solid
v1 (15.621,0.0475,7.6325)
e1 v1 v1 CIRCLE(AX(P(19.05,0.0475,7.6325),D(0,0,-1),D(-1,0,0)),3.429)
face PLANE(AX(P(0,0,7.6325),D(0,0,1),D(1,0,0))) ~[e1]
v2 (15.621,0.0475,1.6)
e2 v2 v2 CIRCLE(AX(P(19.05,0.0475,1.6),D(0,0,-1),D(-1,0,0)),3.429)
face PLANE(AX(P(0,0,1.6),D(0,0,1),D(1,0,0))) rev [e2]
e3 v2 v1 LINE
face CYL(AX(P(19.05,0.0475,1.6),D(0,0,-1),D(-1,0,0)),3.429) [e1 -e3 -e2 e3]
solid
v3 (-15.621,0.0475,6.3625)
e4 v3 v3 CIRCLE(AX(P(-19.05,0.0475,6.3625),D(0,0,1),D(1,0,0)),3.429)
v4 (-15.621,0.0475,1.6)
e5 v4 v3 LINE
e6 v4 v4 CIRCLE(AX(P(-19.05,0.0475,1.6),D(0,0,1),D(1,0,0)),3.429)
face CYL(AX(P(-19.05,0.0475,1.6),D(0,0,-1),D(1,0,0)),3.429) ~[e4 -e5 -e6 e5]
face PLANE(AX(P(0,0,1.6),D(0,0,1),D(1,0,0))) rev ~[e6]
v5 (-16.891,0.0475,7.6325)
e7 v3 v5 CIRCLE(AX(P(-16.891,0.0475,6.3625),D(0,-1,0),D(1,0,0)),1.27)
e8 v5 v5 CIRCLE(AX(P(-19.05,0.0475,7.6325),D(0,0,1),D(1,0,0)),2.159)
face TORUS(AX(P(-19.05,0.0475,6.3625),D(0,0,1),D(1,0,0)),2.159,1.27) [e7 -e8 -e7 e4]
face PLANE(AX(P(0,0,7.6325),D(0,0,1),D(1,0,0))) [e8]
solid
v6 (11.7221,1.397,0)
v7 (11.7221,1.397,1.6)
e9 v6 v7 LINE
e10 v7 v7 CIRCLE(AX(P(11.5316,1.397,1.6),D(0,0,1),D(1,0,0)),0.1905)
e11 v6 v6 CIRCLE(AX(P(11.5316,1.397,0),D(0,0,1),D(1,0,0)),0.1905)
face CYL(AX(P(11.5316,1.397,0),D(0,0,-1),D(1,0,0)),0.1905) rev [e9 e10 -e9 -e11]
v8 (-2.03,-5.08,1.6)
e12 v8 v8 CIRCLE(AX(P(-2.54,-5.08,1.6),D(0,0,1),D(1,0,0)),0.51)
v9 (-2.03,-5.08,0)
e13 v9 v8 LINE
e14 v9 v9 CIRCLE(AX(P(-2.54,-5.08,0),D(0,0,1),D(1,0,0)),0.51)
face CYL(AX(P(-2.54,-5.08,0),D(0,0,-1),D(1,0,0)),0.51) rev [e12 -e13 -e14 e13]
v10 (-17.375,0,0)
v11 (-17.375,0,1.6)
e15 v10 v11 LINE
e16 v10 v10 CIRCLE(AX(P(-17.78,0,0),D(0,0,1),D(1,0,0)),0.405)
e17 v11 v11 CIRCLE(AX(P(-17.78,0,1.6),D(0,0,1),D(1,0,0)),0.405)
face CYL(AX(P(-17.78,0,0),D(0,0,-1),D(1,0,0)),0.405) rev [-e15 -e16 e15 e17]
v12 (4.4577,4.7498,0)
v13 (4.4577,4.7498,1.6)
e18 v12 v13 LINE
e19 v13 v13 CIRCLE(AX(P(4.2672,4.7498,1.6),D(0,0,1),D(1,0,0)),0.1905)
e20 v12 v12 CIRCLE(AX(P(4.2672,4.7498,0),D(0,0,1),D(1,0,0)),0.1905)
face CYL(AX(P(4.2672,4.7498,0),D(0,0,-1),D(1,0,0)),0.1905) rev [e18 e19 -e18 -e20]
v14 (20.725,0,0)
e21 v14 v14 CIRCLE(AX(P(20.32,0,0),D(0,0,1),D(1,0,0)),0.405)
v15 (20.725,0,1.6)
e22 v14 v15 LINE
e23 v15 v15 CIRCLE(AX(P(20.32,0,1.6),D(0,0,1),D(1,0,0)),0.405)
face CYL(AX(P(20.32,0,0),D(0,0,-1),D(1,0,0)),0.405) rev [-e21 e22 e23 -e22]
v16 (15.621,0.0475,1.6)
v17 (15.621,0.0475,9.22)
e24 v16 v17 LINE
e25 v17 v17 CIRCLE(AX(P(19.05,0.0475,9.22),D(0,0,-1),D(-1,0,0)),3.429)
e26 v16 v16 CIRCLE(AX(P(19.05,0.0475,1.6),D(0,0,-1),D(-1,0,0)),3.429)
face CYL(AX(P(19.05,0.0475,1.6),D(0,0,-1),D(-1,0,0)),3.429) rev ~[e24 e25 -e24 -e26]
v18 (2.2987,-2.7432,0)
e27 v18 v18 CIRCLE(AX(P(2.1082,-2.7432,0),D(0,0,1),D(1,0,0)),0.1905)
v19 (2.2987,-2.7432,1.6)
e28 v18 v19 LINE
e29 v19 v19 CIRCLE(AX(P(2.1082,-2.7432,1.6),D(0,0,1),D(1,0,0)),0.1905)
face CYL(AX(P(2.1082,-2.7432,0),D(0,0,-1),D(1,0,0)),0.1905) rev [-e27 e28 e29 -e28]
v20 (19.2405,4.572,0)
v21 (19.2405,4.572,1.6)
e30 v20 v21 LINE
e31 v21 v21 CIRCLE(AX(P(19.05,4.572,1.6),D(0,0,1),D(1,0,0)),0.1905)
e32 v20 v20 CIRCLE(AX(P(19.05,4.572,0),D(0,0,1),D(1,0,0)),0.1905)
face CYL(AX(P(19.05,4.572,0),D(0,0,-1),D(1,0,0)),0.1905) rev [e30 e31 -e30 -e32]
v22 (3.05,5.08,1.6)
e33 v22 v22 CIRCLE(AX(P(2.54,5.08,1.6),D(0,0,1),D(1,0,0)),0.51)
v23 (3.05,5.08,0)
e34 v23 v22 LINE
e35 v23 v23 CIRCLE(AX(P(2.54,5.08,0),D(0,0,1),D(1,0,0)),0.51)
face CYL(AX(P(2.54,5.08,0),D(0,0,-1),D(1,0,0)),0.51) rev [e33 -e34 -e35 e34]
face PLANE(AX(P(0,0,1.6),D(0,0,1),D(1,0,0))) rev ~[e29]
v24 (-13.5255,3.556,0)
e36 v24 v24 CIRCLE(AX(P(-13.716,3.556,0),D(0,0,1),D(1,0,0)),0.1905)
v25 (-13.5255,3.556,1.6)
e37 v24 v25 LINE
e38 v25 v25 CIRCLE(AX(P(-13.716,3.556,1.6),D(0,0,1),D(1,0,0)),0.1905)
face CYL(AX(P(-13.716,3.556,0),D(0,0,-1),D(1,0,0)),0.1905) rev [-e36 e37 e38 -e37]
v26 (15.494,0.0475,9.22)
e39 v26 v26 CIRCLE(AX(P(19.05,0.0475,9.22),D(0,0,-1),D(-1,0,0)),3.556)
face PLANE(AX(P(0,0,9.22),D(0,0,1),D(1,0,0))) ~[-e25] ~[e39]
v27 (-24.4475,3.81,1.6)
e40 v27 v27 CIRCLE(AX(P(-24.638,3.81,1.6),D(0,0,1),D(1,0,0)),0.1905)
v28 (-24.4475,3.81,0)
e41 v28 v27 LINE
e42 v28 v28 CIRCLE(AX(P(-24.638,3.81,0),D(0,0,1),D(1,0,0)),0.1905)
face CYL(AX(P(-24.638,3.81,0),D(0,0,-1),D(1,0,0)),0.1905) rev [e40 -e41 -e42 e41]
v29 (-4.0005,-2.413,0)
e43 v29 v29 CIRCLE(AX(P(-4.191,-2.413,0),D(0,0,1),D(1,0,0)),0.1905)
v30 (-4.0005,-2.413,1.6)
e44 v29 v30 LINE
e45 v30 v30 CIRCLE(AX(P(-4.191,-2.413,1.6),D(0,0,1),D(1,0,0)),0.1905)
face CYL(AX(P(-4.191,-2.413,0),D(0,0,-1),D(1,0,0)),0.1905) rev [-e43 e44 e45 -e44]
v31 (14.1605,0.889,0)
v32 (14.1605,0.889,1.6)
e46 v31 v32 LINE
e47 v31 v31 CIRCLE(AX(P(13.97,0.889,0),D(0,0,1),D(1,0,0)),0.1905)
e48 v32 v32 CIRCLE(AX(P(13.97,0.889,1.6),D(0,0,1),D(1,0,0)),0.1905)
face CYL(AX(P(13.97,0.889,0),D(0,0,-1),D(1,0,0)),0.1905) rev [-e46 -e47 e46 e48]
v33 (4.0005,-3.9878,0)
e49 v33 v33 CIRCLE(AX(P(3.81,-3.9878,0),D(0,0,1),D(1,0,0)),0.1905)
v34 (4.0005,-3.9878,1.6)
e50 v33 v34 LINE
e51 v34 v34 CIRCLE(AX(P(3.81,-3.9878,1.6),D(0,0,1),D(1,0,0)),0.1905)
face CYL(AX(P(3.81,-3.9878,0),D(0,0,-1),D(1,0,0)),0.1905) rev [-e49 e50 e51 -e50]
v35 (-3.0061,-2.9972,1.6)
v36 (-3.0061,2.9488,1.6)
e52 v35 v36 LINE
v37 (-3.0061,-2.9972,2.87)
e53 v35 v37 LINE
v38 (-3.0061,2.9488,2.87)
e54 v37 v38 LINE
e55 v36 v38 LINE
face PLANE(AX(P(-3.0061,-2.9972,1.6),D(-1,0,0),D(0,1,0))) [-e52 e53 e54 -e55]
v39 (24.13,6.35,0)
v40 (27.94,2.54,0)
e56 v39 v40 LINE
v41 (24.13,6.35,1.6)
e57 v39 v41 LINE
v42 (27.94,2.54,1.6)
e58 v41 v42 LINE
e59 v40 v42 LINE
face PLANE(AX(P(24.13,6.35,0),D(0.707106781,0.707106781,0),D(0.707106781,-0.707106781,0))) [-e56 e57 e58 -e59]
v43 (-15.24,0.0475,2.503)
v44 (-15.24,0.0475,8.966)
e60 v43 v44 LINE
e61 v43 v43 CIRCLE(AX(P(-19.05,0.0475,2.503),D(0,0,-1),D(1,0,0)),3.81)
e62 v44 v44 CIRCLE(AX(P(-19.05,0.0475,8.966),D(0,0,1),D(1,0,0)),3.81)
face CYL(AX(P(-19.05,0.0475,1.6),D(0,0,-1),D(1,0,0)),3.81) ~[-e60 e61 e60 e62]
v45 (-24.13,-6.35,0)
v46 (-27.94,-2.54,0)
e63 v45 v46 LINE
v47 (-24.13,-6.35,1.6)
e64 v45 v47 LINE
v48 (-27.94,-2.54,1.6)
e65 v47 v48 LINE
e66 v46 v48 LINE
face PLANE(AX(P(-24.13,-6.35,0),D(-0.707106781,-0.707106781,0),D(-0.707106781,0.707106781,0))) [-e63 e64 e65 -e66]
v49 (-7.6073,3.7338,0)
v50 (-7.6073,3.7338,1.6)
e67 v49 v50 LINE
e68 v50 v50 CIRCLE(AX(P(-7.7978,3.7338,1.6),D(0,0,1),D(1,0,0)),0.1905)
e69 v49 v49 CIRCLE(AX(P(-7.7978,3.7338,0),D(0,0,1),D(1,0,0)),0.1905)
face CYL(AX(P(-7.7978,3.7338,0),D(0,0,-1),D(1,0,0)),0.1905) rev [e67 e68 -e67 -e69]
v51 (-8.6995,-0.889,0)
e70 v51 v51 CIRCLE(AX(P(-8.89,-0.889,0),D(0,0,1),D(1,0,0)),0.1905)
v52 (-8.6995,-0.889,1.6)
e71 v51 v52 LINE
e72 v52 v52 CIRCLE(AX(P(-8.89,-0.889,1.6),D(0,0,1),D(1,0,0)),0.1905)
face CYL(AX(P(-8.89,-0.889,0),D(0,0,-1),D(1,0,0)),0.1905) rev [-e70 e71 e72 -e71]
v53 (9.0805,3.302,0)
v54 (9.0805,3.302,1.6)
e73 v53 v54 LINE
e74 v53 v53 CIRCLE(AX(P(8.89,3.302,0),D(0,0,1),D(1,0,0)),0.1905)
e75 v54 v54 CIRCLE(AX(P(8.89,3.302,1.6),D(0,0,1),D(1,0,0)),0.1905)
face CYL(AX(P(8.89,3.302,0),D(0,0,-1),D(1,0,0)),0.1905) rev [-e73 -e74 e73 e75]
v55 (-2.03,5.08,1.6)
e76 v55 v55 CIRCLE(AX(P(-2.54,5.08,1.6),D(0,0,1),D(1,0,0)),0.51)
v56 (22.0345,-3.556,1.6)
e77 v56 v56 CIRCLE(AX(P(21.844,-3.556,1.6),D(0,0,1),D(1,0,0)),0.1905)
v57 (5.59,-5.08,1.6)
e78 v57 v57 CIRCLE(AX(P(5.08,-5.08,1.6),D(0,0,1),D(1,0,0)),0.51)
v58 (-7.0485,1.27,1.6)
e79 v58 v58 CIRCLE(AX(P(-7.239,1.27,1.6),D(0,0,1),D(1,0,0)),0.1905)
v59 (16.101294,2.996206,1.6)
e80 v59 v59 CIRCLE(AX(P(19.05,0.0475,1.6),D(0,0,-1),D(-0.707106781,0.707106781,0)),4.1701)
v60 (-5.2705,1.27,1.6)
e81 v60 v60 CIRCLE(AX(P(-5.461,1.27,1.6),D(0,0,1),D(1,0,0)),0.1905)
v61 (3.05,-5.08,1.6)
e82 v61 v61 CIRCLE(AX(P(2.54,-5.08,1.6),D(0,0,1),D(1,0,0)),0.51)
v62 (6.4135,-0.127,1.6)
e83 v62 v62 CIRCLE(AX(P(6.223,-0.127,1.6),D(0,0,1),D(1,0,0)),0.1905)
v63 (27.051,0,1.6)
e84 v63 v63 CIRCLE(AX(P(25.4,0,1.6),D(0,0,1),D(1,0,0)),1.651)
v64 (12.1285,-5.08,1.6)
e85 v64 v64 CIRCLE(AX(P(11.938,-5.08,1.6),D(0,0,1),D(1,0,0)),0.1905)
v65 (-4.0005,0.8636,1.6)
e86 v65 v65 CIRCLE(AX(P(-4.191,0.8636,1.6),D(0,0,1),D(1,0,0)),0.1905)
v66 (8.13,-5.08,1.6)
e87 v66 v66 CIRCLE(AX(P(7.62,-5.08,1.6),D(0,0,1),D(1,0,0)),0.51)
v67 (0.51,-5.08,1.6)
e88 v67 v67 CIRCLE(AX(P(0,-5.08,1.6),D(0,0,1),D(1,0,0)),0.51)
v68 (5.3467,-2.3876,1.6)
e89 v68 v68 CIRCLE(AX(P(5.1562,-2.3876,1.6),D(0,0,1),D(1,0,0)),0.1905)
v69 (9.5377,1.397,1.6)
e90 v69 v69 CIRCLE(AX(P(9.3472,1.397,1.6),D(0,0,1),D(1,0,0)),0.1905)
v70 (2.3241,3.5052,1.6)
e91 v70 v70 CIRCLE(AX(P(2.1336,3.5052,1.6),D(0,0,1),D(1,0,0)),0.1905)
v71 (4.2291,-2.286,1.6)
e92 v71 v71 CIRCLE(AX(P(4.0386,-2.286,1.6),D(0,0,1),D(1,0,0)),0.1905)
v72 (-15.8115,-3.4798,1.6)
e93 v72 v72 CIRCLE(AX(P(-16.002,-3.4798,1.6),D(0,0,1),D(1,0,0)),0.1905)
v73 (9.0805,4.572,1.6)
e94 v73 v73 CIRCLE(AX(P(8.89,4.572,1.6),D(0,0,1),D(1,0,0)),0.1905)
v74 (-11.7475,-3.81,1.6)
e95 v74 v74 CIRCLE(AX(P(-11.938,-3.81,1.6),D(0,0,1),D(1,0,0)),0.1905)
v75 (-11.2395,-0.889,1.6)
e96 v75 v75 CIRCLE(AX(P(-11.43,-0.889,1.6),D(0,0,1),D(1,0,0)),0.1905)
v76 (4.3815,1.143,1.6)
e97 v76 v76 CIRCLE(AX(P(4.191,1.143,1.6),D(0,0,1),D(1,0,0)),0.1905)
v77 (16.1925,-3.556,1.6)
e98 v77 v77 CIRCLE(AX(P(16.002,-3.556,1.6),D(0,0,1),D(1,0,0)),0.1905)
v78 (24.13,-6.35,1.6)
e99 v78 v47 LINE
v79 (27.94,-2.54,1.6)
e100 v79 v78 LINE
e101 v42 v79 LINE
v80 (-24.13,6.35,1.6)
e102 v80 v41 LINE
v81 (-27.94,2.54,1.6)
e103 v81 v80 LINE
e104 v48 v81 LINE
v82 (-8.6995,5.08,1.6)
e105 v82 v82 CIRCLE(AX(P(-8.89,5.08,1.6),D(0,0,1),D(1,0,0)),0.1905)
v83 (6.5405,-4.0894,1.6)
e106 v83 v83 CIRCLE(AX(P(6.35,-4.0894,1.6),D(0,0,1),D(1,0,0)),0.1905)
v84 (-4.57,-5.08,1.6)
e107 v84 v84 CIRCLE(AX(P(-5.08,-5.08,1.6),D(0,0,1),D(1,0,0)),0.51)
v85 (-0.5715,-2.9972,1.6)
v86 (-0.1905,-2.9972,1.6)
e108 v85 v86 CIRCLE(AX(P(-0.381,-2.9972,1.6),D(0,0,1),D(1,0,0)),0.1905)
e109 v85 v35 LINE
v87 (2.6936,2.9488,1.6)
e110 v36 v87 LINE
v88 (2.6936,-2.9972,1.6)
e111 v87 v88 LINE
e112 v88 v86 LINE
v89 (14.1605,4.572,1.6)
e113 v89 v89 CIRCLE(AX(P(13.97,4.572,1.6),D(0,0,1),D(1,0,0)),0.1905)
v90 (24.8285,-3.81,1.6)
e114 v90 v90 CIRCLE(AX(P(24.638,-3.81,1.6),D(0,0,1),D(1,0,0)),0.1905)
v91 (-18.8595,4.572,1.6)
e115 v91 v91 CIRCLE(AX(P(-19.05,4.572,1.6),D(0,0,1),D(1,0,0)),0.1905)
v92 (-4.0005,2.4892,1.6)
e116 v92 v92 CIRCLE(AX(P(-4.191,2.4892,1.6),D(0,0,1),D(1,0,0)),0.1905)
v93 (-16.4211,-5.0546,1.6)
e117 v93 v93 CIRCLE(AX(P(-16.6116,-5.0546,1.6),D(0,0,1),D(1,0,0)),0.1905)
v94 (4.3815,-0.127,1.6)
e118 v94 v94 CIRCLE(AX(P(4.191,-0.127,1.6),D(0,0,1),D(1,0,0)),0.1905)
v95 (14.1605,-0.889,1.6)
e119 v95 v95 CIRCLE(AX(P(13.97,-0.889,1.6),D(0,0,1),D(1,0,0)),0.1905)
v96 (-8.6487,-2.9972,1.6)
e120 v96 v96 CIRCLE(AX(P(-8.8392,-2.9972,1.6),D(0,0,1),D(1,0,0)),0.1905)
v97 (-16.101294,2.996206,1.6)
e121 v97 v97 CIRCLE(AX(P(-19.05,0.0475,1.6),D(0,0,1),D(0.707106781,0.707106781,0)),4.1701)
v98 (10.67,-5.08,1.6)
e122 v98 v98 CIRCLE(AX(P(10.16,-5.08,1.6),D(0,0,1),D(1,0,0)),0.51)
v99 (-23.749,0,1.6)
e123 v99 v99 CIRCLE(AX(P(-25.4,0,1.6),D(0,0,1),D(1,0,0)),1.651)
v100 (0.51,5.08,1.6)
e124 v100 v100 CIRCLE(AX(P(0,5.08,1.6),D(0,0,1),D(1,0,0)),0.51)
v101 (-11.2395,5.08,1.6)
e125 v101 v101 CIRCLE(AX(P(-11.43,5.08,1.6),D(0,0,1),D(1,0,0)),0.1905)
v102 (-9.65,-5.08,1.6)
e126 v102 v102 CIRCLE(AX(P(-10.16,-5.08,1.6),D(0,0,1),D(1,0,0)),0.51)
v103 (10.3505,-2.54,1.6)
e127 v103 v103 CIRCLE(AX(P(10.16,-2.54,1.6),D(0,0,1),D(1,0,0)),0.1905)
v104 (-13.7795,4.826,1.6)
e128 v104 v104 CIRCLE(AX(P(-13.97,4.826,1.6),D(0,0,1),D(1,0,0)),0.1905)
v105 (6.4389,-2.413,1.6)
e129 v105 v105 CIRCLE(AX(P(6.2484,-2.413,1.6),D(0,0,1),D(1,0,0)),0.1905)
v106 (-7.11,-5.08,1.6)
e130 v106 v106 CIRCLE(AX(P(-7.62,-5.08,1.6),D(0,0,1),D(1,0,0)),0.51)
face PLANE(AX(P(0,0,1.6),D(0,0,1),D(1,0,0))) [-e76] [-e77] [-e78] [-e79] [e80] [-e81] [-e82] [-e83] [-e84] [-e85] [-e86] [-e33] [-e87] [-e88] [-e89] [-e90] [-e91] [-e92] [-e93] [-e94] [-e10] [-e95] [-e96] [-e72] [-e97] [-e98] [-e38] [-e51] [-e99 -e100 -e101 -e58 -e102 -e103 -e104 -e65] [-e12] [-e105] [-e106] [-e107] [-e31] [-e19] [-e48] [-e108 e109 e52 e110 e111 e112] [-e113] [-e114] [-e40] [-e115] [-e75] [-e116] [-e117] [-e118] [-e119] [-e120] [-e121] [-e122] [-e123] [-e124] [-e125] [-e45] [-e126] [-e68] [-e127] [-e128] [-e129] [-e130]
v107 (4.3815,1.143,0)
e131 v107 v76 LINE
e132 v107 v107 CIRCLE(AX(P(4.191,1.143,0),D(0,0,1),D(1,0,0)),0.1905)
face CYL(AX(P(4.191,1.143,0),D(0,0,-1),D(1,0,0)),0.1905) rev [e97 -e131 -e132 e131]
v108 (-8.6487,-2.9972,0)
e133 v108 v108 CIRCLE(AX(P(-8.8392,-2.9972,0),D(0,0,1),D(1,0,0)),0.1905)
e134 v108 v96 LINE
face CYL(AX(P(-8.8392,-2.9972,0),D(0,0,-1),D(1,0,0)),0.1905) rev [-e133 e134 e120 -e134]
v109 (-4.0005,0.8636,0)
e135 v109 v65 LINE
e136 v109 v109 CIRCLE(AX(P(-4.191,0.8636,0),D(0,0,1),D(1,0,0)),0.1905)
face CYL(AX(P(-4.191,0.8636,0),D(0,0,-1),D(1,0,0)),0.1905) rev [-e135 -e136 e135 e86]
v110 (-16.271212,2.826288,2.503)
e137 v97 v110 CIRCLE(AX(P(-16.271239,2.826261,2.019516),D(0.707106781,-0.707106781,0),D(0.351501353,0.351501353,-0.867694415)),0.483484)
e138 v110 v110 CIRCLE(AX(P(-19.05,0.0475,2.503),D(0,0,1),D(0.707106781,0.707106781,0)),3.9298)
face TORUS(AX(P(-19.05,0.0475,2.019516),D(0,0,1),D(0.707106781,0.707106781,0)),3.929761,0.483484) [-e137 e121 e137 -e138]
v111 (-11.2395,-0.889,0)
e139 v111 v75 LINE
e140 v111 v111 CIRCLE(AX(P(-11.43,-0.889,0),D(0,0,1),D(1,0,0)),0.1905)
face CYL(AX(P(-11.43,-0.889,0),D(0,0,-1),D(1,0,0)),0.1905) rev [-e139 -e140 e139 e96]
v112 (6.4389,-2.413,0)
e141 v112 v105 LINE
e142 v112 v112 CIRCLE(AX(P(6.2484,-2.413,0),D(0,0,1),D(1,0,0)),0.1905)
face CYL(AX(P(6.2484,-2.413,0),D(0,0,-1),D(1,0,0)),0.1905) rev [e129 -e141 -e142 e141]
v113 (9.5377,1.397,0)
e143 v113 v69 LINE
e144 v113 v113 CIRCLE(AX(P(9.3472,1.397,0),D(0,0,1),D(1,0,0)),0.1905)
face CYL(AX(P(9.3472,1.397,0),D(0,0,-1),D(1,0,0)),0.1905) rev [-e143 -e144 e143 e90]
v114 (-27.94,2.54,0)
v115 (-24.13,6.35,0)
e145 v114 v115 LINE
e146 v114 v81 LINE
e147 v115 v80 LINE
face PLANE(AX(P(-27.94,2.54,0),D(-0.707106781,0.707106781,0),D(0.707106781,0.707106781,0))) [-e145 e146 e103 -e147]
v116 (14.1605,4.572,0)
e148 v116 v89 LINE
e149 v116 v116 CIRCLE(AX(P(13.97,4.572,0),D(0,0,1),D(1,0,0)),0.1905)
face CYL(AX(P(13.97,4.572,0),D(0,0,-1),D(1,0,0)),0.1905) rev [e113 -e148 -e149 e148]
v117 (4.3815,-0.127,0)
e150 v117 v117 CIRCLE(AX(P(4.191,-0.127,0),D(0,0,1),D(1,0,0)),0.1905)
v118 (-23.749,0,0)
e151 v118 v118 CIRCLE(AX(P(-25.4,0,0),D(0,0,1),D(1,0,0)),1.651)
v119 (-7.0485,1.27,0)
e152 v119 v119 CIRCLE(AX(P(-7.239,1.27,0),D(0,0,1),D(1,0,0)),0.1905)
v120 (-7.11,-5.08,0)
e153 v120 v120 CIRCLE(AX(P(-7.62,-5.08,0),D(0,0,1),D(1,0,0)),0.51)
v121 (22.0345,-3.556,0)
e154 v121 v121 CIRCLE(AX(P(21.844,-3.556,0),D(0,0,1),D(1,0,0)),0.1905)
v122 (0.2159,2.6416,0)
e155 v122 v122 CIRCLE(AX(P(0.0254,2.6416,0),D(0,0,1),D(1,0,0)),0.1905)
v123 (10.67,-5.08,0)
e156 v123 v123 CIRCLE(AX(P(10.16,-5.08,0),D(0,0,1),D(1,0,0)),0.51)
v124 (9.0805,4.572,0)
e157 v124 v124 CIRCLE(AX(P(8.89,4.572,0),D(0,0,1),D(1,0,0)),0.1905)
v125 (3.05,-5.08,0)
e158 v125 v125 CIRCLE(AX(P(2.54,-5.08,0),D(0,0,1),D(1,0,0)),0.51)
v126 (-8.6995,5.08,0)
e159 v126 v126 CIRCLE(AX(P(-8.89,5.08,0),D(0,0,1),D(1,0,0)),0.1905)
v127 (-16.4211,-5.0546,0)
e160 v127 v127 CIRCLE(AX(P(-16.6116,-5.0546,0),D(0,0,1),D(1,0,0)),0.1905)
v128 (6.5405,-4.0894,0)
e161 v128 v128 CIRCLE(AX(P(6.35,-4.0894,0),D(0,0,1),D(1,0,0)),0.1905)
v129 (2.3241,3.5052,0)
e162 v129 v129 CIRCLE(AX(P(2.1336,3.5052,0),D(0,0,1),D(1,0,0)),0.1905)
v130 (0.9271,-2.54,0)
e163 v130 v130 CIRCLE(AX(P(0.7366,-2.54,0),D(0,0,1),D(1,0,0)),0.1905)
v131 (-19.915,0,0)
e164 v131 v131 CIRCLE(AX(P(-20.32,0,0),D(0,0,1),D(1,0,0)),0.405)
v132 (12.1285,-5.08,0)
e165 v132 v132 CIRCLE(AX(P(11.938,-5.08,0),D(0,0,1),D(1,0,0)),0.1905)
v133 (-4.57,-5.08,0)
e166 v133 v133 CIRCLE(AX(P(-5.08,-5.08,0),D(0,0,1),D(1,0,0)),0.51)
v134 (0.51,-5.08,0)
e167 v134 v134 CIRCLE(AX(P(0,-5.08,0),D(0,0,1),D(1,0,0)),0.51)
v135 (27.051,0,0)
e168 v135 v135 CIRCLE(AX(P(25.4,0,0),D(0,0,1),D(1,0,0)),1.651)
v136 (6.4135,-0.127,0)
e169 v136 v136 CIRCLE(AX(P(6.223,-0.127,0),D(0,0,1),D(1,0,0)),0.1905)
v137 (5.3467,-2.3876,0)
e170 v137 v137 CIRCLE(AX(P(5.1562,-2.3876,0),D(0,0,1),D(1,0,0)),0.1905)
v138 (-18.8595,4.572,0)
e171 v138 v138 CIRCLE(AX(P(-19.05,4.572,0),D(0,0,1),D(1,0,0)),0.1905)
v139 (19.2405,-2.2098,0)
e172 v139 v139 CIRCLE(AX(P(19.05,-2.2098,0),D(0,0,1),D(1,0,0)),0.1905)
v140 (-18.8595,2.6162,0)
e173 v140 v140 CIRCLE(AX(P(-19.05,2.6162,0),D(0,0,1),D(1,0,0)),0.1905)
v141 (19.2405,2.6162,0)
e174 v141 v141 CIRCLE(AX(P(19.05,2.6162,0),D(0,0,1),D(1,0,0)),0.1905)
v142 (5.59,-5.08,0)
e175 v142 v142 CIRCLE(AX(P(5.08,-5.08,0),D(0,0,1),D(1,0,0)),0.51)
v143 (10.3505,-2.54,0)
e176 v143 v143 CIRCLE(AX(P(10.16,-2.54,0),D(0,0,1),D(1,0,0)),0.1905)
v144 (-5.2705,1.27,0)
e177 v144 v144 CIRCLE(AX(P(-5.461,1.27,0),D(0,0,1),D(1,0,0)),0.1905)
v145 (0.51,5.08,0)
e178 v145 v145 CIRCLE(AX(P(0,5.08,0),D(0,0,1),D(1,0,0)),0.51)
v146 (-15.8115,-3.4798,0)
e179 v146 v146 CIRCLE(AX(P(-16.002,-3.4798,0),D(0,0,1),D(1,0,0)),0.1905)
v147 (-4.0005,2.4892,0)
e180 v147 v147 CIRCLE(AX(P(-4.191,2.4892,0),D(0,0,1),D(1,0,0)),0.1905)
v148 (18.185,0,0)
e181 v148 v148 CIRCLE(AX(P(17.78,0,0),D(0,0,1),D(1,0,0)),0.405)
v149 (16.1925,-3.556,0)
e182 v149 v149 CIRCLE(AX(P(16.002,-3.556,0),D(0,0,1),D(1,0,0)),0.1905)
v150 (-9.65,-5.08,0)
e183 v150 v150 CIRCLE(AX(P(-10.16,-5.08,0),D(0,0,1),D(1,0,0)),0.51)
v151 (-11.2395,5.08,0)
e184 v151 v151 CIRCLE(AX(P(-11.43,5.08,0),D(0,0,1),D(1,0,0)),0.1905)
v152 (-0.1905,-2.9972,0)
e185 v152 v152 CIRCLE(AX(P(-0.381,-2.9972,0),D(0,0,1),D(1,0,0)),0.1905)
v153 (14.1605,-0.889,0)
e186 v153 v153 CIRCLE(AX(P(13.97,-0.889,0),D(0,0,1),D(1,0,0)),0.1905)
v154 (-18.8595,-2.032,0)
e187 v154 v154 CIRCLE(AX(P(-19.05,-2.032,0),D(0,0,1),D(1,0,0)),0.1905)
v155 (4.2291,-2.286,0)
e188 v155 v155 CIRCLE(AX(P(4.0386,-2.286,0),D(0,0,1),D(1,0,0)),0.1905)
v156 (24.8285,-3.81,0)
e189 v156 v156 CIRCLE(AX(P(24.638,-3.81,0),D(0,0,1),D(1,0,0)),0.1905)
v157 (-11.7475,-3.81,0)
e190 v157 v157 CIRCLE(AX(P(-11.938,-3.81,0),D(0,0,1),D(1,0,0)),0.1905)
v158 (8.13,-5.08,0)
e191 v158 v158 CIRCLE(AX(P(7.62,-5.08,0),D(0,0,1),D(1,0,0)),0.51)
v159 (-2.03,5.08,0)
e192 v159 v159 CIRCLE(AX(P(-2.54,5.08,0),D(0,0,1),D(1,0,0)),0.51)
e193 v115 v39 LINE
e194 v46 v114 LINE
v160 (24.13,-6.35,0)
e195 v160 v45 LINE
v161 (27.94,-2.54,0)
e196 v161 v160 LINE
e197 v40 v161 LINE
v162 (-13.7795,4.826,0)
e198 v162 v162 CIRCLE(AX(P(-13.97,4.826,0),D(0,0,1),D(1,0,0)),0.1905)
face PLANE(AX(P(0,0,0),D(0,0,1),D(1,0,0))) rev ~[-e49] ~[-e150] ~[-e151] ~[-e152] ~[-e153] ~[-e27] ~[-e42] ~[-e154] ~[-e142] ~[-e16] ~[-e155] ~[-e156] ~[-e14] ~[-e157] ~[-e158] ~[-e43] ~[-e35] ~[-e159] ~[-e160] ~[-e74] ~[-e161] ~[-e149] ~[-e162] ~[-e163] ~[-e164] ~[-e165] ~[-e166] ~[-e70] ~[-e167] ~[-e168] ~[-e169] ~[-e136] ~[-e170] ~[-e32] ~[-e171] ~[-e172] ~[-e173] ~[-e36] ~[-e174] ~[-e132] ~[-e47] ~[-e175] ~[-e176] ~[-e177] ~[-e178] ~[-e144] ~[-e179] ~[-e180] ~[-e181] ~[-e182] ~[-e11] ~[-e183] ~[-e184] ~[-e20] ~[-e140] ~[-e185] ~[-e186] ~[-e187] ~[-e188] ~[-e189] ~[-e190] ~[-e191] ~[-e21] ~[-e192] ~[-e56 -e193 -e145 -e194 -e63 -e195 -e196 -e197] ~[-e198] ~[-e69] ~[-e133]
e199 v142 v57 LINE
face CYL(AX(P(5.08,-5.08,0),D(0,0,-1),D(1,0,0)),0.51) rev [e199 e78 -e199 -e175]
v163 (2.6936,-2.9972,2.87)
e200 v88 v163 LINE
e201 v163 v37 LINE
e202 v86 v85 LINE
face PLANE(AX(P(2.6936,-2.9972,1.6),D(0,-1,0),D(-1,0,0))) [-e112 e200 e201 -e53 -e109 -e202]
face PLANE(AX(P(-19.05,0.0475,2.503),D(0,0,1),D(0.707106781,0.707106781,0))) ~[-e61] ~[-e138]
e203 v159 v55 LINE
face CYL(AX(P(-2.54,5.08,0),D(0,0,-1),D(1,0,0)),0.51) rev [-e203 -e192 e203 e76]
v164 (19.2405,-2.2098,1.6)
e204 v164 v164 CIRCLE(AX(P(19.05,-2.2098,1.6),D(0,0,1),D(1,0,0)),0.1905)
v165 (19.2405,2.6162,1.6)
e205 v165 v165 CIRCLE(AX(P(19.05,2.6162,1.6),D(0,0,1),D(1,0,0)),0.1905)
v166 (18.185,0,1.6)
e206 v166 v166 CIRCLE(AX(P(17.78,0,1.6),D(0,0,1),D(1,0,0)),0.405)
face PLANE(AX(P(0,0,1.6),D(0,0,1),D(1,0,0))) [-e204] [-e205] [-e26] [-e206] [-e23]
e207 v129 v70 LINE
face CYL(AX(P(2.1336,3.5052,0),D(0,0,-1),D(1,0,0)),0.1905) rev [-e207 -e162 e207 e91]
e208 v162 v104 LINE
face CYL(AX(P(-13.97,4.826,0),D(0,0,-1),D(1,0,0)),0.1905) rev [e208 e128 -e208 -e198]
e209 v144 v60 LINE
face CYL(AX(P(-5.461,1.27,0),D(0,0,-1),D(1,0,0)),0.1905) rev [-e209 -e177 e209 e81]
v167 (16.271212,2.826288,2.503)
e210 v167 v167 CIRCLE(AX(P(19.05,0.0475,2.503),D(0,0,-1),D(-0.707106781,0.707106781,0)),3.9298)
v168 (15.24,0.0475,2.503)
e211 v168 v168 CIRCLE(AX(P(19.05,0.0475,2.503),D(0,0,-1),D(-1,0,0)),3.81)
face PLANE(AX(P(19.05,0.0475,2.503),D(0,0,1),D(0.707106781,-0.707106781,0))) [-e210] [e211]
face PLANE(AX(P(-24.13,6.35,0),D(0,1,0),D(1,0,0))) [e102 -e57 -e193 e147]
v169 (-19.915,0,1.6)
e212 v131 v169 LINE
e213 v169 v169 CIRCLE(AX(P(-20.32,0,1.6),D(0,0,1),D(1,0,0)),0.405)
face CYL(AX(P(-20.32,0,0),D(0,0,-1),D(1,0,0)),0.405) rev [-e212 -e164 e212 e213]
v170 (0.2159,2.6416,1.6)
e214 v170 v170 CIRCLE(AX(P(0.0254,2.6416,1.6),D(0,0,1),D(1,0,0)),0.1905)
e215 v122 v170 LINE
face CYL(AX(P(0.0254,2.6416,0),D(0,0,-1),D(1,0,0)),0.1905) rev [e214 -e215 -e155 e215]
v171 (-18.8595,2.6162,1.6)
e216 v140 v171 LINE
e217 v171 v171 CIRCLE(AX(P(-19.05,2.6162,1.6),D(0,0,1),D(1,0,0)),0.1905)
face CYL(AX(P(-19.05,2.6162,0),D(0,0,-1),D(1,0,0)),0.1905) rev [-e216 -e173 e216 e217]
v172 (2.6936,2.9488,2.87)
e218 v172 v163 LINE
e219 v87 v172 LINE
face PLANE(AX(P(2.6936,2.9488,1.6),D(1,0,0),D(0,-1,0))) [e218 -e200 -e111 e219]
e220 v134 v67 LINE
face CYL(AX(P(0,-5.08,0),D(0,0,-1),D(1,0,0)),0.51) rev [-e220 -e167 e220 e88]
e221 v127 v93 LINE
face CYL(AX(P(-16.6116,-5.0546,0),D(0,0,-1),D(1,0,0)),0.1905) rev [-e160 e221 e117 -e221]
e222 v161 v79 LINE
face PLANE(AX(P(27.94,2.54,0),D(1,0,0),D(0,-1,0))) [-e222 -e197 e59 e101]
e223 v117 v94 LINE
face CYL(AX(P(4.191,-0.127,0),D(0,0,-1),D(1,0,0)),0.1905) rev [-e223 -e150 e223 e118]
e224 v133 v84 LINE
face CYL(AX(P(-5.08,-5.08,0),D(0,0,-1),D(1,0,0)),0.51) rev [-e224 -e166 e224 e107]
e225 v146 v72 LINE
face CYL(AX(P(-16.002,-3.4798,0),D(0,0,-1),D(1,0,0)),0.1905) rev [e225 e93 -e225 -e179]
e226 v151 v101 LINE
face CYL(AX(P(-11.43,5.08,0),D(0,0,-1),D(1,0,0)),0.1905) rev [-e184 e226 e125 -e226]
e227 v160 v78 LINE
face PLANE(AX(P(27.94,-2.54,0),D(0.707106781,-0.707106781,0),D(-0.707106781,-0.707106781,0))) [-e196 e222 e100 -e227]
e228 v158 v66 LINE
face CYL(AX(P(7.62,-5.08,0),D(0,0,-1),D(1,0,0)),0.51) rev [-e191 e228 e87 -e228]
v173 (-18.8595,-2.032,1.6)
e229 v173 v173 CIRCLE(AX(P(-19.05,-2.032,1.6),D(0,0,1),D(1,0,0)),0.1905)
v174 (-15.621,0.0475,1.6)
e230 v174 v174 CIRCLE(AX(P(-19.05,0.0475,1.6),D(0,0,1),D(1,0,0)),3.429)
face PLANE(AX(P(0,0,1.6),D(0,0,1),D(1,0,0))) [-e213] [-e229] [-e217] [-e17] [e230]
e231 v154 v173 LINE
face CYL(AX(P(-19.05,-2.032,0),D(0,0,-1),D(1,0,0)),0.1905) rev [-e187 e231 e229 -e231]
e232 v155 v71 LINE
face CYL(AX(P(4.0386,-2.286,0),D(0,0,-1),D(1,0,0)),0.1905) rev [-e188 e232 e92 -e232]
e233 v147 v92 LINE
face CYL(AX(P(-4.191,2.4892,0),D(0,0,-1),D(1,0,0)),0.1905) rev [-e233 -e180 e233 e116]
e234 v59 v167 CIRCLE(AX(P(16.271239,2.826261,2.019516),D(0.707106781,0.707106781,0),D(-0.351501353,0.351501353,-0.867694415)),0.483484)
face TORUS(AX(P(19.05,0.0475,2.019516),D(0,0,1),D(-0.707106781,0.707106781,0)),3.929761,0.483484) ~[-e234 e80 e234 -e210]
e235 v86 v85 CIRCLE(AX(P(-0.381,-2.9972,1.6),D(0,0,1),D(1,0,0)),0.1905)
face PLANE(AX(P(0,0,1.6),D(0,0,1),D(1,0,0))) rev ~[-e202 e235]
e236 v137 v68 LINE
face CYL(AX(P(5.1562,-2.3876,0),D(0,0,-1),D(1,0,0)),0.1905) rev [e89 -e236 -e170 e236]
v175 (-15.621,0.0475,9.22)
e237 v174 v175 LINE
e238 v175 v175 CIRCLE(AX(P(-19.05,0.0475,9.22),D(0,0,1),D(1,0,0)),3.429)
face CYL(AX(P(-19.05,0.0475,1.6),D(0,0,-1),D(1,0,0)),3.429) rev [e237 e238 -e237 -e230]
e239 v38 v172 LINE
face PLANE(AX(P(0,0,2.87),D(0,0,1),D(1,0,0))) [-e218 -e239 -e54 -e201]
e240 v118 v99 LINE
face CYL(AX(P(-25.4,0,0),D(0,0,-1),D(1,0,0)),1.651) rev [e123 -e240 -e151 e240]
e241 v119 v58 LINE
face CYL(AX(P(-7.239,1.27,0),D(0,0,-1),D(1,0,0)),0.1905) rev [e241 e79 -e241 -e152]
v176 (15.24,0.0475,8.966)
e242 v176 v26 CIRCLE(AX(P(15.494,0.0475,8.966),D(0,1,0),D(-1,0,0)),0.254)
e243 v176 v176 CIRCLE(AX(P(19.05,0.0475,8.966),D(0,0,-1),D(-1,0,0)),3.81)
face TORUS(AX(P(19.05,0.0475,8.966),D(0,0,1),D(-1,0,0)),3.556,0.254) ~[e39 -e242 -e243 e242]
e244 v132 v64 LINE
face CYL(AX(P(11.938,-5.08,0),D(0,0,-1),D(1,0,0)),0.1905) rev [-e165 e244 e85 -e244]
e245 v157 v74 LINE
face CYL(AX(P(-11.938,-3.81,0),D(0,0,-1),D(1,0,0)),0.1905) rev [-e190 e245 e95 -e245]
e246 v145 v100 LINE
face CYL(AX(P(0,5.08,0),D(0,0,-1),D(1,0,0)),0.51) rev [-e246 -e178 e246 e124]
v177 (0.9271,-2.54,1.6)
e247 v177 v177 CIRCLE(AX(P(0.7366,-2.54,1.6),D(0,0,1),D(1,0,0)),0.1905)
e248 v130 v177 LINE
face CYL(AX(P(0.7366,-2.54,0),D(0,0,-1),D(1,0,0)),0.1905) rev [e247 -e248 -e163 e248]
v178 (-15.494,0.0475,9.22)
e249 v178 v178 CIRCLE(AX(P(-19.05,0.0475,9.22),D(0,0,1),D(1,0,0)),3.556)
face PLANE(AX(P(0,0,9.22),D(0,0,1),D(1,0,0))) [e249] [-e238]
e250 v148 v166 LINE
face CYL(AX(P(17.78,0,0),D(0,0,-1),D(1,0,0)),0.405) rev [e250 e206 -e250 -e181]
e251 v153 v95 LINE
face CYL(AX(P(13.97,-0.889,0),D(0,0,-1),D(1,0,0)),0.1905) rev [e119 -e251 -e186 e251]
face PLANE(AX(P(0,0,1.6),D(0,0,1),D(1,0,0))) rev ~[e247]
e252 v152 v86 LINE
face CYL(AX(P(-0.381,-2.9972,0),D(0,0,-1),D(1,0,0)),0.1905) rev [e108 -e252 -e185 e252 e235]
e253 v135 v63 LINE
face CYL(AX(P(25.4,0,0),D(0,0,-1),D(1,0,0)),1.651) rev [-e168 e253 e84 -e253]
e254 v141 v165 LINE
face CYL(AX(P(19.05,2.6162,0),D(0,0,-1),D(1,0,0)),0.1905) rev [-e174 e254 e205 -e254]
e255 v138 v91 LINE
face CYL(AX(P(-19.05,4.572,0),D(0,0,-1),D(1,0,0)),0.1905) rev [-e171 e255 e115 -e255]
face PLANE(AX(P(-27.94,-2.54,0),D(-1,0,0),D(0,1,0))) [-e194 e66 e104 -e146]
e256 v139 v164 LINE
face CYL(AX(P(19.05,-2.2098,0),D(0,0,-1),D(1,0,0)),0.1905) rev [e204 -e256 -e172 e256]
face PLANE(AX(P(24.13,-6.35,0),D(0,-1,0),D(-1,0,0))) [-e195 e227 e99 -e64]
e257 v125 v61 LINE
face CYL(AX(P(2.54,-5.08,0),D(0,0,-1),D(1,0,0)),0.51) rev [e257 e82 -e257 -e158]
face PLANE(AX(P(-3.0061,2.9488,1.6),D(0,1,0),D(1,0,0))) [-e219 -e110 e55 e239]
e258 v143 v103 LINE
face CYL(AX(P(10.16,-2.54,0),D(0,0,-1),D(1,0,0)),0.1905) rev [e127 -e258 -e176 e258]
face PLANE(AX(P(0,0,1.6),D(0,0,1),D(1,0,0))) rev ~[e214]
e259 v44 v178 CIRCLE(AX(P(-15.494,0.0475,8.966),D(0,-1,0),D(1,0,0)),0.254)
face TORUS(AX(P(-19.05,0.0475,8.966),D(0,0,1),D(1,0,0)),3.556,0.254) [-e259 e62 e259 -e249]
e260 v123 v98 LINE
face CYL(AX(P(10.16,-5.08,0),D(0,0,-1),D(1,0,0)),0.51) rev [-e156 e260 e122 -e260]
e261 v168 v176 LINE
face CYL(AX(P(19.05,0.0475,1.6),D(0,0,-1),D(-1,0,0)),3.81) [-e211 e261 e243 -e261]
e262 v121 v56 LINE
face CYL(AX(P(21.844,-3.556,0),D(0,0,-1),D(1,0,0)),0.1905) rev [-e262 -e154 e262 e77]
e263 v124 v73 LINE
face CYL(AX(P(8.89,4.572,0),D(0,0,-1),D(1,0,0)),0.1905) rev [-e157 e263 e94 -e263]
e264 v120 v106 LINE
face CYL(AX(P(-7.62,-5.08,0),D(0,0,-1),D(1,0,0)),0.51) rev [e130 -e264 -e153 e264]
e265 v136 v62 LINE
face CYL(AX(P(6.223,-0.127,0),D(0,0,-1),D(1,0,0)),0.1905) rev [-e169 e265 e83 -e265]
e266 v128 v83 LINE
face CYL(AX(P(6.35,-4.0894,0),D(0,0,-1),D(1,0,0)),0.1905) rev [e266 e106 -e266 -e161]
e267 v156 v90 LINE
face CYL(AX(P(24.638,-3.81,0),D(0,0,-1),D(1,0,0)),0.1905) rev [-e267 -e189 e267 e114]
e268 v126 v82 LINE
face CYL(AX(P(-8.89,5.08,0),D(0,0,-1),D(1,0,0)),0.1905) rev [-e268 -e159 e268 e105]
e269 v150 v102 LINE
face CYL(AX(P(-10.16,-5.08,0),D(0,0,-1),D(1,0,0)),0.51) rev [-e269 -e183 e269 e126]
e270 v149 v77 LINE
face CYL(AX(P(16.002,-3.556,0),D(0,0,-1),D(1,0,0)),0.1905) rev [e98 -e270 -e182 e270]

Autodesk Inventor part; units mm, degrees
ref_plane "YZ Plane" through (0, 0, 0) normal (1, 0, 0) x (0, 1, 0)
sketch "Sketch1" plane through (0, 0, 0) normal (0, 0, 1) x (1, 0, 0)
  line L0 (-24.13, 6.35) -> (24.13, 6.35)
  line L1 (24.13, 6.35) -> (27.94, 2.54)
  line L2 (27.94, 2.54) -> (27.94, -2.54)
  line L3 (27.94, -2.54) -> (24.13, -6.35)
  line L4 (24.13, -6.35) -> (-24.13, -6.35)
  line L5 (-24.13, -6.35) -> (-27.94, -2.54)
  line L6 (-27.94, -2.54) -> (-27.94, 2.54)
  line L7 (-27.94, 2.54) -> (-24.13, 6.35)
  circle A0 centre (-17.78, 0) radius 0.405
  circle A1 centre (-20.32, 0) radius 0.405
  circle A2 centre (17.78, 0) radius 0.405
  circle A3 centre (20.32, 0) radius 0.405
  circle A4 centre (-10.16, -5.08) radius 0.51
  circle A5 centre (-7.62, -5.08) radius 0.51
  circle A6 centre (-5.08, -5.08) radius 0.51
  circle A7 centre (-2.54, -5.08) radius 0.51
  circle A8 centre (0, -5.08) radius 0.51
  circle A9 centre (2.54, -5.08) radius 0.51
  circle A10 centre (5.08, -5.08) radius 0.51
  circle A11 centre (7.62, -5.08) radius 0.51
  circle A12 centre (10.16, -5.08) radius 0.51
  circle A13 centre (2.54, 5.08) radius 0.51
  circle A14 centre (0, 5.08) radius 0.51
  circle A15 centre (-2.54, 5.08) radius 0.51
  circle A16 centre (-25.4, 0) radius 1.651
  circle A17 centre (25.4, 0) radius 1.651
  circle A18 centre (6.223, -0.127) radius 0.1905
  circle A19 centre (5.1562, -2.3876) radius 0.1905
  circle A20 centre (21.844, -3.556) radius 0.1905
  circle A21 centre (-4.191, -2.413) radius 0.1905
  circle A22 centre (-11.938, -3.81) radius 0.1905
  circle A23 centre (-19.05, 2.6162) radius 0.1905
  circle A24 centre (-19.05, -2.032) radius 0.1905
  circle A25 centre (6.2484, -2.413) radius 0.1905
  circle A26 centre (6.35, -4.0894) radius 0.1905
  circle A27 centre (9.3472, 1.397) radius 0.1905
  circle A28 centre (13.97, 4.572) radius 0.1905
  circle A29 centre (19.05, 2.6162) radius 0.1905
  circle A30 centre (13.97, 0.889) radius 0.1905
  circle A31 centre (11.938, -5.08) radius 0.1905
  circle A32 centre (2.1082, -2.7432) radius 0.1905
  circle A33 centre (-11.43, 5.08) radius 0.1905
  circle A34 centre (-16.6116, -5.0546) radius 0.1905
  circle A35 centre (2.1336, 3.5052) radius 0.1905
  circle A36 centre (24.638, -3.81) radius 0.1905
  circle A37 centre (-24.638, 3.81) radius 0.1905
  circle A38 centre (-8.89, 5.08) radius 0.1905
  circle A39 centre (-8.8392, -2.9972) radius 0.1905
  circle A40 centre (4.2672, 4.7498) radius 0.1905
  circle A41 centre (3.81, -3.9878) radius 0.1905
  circle A42 centre (19.05, -2.2098) radius 0.1905
  circle A43 centre (-4.191, 2.4892) radius 0.1905
  circle A44 centre (-13.716, 3.556) radius 0.1905
  circle A45 centre (4.191, -0.127) radius 0.1905
  circle A46 centre (-11.43, -0.889) radius 0.1905
  circle A47 centre (4.191, 1.143) radius 0.1905
  circle A48 centre (-8.89, -0.889) radius 0.1905
  circle A49 centre (4.0386, -2.286) radius 0.1905
  circle A50 centre (0.0254, 2.6416) radius 0.1905
  circle A51 centre (8.89, 4.572) radius 0.1905
  circle A52 centre (-4.191, 0.8636) radius 0.1905
  circle A53 centre (-13.97, 4.826) radius 0.1905
  circle A54 centre (8.89, 3.302) radius 0.1905
  circle A55 centre (11.5316, 1.397) radius 0.1905
  circle A56 centre (-16.002, -3.4798) radius 0.1905
  circle A57 centre (-19.05, 4.572) radius 0.1905
  circle A58 centre (16.002, -3.556) radius 0.1905
  circle A59 centre (19.05, 4.572) radius 0.1905
  circle A60 centre (-7.239, 1.27) radius 0.1905
  circle A61 centre (0.7366, -2.54) radius 0.1905
  circle A62 centre (-0.381, -2.9972) radius 0.1905
  circle A63 centre (-7.7978, 3.7338) radius 0.1905
  circle A64 centre (-5.461, 1.27) radius 0.1905
  circle A65 centre (10.16, -2.54) radius 0.1905
  circle A66 centre (13.97, -0.889) radius 0.1905
extrude "ZX_Distance_and_Gesture_Sensor_v10.brd_Outline" add sketch "Sketch1" along normal blind 1.6
sketch "Sketch2" plane through (0, 0, 1.6) normal (0, 0, 1) x (1, 0, 0)
  line L0 (-28.8947, 7.8442) -> (28.2553, 7.8442) construction
  line L1 (28.2553, 7.8442) -> (28.2553, -7.7492) construction
  line L2 (28.2553, -7.7492) -> (-28.8947, -7.7492) construction
  line L3 (-28.8947, -7.7492) -> (-28.8947, 7.8442) construction
  circle A0 centre (-25.4, 0) radius 1.651 projected
  circle A1 centre (25.4, 0) radius 1.651 projected
  circle A2 centre (-19.05, 0.0475) radius 3.81
  circle A3 centre (-19.05, 0.0475) radius 3.429
  line L4 (-3.0061, 2.9488) -> (2.6936, 2.9488)
  line L5 (2.6936, 2.9488) -> (2.6936, -2.9972)
  line L6 (2.6936, -2.9972) -> (-3.0061, -2.9972)
  line L7 (-3.0061, -2.9972) -> (-3.0061, 2.9488)
  circle A4 centre (-20.32, 0) radius 0.405 projected
  circle A5 centre (-17.78, 0) radius 0.405 projected
  line L8 (-20.32, 0) -> (-17.78, 0) construction
  point P0 (0, 0)
  point P1 (-19.05, 0)
  dimension "d5" = 57.15
  dimension "d22" = 7.62
  dimension "d23" = 0.381
extrude "Extrusion2" add sketch "Sketch2" along normal blind 7.62 contours A2
extrude "Extrusion3" add sketch "Sketch2" along normal blind 6.0325 separate body contours A3 | A4 | A5
fillet "Fillet1" radius 0.254 1 edges at (-22.86, 0.0475, 9.22)
fillet "Fillet2" radius 1.27 1 edges at (-22.479, 0.0475, 7.6325)
ref_plane "Work Plane1" through (-19.05, 0.0475, 1.6) normal (0.7071, -0.7071, 0) x (0, 0, 1)
sketch "Sketch4" plane through (-19.05, 0.0475, 1.6) normal (0.7071, -0.7071, 0) x (0, 0, 1)
  line L0 (0, -3.81) -> (7.366, -3.81) projected
  line L1 (0.903, -3.81) -> (0.903, -3.9298)
  arc A0 (0, -4.1701) -> (0.903, -3.9298) centre (0.4195, -3.9298) ccw
  line L2 (0, 3.81) -> (0, -3.81) projected
  line L3 (0, -4.1701) -> (0, -3.81)
  line L4 (0, -3.81) -> (0.903, -3.81)
  line L5 (-3.444, 0) -> (9.464, 0) projected
  point P0 (-1.6, -13.4368)
revolve "Revolution1" add sketch "Sketch4" angle 360 about axis through (-19.05, 0.0475, 1.6) along (0, 0, 1) bodies 1
ref_plane "Work Plane2" through (0, 6.35, 1.6) normal (-1, 0, 0) x (0, -1, 0)
mirror "Mirror1" about plane through (0, 6.35, 1.6) normal (-1, 0, 0) of "Extrusion2" bodies 1
mirror "Mirror2" about plane through (0, 6.35, 1.6) normal (-1, 0, 0) of "Extrusion3" bodies 2
mirror "Mirror3" about plane through (0, 6.35, 1.6) normal (-1, 0, 0) of "Revolution1" bodies 1
extrude "Extrusion4" add sketch "Sketch2" along normal blind 1.27 contours L4 L5 L6 L7 bodies 1
sketch "Sketch5" plane through (0, 0, 1.6) normal (0, 0, 1) x (1, 0, 0)
  line L0 (-15.0069, 3.9379) -> (-3.3449, 3.9379) construction
  line L1 (-3.3449, 3.9379) -> (-3.3449, -3.9863) construction
  line L2 (-3.3449, -3.9863) -> (-15.0069, -3.9863) construction
  line L3 (-15.0069, -3.9863) -> (-15.0069, 3.9379) construction
  line L4 (-3.0061, 2.9488) -> (-3.0061, -2.9972) projected
  point P0 (0, 0)
  point P1 (-3.3449, -0.0242)
  point P2 (-3.0061, -0.0242)
fillet "Fillet3" radius 0.254 1 edges at (22.86, 0.0475, 9.22)
properties part number "ZX_Distance_and_Gesture_Sensor_v10.brd_Outline"
